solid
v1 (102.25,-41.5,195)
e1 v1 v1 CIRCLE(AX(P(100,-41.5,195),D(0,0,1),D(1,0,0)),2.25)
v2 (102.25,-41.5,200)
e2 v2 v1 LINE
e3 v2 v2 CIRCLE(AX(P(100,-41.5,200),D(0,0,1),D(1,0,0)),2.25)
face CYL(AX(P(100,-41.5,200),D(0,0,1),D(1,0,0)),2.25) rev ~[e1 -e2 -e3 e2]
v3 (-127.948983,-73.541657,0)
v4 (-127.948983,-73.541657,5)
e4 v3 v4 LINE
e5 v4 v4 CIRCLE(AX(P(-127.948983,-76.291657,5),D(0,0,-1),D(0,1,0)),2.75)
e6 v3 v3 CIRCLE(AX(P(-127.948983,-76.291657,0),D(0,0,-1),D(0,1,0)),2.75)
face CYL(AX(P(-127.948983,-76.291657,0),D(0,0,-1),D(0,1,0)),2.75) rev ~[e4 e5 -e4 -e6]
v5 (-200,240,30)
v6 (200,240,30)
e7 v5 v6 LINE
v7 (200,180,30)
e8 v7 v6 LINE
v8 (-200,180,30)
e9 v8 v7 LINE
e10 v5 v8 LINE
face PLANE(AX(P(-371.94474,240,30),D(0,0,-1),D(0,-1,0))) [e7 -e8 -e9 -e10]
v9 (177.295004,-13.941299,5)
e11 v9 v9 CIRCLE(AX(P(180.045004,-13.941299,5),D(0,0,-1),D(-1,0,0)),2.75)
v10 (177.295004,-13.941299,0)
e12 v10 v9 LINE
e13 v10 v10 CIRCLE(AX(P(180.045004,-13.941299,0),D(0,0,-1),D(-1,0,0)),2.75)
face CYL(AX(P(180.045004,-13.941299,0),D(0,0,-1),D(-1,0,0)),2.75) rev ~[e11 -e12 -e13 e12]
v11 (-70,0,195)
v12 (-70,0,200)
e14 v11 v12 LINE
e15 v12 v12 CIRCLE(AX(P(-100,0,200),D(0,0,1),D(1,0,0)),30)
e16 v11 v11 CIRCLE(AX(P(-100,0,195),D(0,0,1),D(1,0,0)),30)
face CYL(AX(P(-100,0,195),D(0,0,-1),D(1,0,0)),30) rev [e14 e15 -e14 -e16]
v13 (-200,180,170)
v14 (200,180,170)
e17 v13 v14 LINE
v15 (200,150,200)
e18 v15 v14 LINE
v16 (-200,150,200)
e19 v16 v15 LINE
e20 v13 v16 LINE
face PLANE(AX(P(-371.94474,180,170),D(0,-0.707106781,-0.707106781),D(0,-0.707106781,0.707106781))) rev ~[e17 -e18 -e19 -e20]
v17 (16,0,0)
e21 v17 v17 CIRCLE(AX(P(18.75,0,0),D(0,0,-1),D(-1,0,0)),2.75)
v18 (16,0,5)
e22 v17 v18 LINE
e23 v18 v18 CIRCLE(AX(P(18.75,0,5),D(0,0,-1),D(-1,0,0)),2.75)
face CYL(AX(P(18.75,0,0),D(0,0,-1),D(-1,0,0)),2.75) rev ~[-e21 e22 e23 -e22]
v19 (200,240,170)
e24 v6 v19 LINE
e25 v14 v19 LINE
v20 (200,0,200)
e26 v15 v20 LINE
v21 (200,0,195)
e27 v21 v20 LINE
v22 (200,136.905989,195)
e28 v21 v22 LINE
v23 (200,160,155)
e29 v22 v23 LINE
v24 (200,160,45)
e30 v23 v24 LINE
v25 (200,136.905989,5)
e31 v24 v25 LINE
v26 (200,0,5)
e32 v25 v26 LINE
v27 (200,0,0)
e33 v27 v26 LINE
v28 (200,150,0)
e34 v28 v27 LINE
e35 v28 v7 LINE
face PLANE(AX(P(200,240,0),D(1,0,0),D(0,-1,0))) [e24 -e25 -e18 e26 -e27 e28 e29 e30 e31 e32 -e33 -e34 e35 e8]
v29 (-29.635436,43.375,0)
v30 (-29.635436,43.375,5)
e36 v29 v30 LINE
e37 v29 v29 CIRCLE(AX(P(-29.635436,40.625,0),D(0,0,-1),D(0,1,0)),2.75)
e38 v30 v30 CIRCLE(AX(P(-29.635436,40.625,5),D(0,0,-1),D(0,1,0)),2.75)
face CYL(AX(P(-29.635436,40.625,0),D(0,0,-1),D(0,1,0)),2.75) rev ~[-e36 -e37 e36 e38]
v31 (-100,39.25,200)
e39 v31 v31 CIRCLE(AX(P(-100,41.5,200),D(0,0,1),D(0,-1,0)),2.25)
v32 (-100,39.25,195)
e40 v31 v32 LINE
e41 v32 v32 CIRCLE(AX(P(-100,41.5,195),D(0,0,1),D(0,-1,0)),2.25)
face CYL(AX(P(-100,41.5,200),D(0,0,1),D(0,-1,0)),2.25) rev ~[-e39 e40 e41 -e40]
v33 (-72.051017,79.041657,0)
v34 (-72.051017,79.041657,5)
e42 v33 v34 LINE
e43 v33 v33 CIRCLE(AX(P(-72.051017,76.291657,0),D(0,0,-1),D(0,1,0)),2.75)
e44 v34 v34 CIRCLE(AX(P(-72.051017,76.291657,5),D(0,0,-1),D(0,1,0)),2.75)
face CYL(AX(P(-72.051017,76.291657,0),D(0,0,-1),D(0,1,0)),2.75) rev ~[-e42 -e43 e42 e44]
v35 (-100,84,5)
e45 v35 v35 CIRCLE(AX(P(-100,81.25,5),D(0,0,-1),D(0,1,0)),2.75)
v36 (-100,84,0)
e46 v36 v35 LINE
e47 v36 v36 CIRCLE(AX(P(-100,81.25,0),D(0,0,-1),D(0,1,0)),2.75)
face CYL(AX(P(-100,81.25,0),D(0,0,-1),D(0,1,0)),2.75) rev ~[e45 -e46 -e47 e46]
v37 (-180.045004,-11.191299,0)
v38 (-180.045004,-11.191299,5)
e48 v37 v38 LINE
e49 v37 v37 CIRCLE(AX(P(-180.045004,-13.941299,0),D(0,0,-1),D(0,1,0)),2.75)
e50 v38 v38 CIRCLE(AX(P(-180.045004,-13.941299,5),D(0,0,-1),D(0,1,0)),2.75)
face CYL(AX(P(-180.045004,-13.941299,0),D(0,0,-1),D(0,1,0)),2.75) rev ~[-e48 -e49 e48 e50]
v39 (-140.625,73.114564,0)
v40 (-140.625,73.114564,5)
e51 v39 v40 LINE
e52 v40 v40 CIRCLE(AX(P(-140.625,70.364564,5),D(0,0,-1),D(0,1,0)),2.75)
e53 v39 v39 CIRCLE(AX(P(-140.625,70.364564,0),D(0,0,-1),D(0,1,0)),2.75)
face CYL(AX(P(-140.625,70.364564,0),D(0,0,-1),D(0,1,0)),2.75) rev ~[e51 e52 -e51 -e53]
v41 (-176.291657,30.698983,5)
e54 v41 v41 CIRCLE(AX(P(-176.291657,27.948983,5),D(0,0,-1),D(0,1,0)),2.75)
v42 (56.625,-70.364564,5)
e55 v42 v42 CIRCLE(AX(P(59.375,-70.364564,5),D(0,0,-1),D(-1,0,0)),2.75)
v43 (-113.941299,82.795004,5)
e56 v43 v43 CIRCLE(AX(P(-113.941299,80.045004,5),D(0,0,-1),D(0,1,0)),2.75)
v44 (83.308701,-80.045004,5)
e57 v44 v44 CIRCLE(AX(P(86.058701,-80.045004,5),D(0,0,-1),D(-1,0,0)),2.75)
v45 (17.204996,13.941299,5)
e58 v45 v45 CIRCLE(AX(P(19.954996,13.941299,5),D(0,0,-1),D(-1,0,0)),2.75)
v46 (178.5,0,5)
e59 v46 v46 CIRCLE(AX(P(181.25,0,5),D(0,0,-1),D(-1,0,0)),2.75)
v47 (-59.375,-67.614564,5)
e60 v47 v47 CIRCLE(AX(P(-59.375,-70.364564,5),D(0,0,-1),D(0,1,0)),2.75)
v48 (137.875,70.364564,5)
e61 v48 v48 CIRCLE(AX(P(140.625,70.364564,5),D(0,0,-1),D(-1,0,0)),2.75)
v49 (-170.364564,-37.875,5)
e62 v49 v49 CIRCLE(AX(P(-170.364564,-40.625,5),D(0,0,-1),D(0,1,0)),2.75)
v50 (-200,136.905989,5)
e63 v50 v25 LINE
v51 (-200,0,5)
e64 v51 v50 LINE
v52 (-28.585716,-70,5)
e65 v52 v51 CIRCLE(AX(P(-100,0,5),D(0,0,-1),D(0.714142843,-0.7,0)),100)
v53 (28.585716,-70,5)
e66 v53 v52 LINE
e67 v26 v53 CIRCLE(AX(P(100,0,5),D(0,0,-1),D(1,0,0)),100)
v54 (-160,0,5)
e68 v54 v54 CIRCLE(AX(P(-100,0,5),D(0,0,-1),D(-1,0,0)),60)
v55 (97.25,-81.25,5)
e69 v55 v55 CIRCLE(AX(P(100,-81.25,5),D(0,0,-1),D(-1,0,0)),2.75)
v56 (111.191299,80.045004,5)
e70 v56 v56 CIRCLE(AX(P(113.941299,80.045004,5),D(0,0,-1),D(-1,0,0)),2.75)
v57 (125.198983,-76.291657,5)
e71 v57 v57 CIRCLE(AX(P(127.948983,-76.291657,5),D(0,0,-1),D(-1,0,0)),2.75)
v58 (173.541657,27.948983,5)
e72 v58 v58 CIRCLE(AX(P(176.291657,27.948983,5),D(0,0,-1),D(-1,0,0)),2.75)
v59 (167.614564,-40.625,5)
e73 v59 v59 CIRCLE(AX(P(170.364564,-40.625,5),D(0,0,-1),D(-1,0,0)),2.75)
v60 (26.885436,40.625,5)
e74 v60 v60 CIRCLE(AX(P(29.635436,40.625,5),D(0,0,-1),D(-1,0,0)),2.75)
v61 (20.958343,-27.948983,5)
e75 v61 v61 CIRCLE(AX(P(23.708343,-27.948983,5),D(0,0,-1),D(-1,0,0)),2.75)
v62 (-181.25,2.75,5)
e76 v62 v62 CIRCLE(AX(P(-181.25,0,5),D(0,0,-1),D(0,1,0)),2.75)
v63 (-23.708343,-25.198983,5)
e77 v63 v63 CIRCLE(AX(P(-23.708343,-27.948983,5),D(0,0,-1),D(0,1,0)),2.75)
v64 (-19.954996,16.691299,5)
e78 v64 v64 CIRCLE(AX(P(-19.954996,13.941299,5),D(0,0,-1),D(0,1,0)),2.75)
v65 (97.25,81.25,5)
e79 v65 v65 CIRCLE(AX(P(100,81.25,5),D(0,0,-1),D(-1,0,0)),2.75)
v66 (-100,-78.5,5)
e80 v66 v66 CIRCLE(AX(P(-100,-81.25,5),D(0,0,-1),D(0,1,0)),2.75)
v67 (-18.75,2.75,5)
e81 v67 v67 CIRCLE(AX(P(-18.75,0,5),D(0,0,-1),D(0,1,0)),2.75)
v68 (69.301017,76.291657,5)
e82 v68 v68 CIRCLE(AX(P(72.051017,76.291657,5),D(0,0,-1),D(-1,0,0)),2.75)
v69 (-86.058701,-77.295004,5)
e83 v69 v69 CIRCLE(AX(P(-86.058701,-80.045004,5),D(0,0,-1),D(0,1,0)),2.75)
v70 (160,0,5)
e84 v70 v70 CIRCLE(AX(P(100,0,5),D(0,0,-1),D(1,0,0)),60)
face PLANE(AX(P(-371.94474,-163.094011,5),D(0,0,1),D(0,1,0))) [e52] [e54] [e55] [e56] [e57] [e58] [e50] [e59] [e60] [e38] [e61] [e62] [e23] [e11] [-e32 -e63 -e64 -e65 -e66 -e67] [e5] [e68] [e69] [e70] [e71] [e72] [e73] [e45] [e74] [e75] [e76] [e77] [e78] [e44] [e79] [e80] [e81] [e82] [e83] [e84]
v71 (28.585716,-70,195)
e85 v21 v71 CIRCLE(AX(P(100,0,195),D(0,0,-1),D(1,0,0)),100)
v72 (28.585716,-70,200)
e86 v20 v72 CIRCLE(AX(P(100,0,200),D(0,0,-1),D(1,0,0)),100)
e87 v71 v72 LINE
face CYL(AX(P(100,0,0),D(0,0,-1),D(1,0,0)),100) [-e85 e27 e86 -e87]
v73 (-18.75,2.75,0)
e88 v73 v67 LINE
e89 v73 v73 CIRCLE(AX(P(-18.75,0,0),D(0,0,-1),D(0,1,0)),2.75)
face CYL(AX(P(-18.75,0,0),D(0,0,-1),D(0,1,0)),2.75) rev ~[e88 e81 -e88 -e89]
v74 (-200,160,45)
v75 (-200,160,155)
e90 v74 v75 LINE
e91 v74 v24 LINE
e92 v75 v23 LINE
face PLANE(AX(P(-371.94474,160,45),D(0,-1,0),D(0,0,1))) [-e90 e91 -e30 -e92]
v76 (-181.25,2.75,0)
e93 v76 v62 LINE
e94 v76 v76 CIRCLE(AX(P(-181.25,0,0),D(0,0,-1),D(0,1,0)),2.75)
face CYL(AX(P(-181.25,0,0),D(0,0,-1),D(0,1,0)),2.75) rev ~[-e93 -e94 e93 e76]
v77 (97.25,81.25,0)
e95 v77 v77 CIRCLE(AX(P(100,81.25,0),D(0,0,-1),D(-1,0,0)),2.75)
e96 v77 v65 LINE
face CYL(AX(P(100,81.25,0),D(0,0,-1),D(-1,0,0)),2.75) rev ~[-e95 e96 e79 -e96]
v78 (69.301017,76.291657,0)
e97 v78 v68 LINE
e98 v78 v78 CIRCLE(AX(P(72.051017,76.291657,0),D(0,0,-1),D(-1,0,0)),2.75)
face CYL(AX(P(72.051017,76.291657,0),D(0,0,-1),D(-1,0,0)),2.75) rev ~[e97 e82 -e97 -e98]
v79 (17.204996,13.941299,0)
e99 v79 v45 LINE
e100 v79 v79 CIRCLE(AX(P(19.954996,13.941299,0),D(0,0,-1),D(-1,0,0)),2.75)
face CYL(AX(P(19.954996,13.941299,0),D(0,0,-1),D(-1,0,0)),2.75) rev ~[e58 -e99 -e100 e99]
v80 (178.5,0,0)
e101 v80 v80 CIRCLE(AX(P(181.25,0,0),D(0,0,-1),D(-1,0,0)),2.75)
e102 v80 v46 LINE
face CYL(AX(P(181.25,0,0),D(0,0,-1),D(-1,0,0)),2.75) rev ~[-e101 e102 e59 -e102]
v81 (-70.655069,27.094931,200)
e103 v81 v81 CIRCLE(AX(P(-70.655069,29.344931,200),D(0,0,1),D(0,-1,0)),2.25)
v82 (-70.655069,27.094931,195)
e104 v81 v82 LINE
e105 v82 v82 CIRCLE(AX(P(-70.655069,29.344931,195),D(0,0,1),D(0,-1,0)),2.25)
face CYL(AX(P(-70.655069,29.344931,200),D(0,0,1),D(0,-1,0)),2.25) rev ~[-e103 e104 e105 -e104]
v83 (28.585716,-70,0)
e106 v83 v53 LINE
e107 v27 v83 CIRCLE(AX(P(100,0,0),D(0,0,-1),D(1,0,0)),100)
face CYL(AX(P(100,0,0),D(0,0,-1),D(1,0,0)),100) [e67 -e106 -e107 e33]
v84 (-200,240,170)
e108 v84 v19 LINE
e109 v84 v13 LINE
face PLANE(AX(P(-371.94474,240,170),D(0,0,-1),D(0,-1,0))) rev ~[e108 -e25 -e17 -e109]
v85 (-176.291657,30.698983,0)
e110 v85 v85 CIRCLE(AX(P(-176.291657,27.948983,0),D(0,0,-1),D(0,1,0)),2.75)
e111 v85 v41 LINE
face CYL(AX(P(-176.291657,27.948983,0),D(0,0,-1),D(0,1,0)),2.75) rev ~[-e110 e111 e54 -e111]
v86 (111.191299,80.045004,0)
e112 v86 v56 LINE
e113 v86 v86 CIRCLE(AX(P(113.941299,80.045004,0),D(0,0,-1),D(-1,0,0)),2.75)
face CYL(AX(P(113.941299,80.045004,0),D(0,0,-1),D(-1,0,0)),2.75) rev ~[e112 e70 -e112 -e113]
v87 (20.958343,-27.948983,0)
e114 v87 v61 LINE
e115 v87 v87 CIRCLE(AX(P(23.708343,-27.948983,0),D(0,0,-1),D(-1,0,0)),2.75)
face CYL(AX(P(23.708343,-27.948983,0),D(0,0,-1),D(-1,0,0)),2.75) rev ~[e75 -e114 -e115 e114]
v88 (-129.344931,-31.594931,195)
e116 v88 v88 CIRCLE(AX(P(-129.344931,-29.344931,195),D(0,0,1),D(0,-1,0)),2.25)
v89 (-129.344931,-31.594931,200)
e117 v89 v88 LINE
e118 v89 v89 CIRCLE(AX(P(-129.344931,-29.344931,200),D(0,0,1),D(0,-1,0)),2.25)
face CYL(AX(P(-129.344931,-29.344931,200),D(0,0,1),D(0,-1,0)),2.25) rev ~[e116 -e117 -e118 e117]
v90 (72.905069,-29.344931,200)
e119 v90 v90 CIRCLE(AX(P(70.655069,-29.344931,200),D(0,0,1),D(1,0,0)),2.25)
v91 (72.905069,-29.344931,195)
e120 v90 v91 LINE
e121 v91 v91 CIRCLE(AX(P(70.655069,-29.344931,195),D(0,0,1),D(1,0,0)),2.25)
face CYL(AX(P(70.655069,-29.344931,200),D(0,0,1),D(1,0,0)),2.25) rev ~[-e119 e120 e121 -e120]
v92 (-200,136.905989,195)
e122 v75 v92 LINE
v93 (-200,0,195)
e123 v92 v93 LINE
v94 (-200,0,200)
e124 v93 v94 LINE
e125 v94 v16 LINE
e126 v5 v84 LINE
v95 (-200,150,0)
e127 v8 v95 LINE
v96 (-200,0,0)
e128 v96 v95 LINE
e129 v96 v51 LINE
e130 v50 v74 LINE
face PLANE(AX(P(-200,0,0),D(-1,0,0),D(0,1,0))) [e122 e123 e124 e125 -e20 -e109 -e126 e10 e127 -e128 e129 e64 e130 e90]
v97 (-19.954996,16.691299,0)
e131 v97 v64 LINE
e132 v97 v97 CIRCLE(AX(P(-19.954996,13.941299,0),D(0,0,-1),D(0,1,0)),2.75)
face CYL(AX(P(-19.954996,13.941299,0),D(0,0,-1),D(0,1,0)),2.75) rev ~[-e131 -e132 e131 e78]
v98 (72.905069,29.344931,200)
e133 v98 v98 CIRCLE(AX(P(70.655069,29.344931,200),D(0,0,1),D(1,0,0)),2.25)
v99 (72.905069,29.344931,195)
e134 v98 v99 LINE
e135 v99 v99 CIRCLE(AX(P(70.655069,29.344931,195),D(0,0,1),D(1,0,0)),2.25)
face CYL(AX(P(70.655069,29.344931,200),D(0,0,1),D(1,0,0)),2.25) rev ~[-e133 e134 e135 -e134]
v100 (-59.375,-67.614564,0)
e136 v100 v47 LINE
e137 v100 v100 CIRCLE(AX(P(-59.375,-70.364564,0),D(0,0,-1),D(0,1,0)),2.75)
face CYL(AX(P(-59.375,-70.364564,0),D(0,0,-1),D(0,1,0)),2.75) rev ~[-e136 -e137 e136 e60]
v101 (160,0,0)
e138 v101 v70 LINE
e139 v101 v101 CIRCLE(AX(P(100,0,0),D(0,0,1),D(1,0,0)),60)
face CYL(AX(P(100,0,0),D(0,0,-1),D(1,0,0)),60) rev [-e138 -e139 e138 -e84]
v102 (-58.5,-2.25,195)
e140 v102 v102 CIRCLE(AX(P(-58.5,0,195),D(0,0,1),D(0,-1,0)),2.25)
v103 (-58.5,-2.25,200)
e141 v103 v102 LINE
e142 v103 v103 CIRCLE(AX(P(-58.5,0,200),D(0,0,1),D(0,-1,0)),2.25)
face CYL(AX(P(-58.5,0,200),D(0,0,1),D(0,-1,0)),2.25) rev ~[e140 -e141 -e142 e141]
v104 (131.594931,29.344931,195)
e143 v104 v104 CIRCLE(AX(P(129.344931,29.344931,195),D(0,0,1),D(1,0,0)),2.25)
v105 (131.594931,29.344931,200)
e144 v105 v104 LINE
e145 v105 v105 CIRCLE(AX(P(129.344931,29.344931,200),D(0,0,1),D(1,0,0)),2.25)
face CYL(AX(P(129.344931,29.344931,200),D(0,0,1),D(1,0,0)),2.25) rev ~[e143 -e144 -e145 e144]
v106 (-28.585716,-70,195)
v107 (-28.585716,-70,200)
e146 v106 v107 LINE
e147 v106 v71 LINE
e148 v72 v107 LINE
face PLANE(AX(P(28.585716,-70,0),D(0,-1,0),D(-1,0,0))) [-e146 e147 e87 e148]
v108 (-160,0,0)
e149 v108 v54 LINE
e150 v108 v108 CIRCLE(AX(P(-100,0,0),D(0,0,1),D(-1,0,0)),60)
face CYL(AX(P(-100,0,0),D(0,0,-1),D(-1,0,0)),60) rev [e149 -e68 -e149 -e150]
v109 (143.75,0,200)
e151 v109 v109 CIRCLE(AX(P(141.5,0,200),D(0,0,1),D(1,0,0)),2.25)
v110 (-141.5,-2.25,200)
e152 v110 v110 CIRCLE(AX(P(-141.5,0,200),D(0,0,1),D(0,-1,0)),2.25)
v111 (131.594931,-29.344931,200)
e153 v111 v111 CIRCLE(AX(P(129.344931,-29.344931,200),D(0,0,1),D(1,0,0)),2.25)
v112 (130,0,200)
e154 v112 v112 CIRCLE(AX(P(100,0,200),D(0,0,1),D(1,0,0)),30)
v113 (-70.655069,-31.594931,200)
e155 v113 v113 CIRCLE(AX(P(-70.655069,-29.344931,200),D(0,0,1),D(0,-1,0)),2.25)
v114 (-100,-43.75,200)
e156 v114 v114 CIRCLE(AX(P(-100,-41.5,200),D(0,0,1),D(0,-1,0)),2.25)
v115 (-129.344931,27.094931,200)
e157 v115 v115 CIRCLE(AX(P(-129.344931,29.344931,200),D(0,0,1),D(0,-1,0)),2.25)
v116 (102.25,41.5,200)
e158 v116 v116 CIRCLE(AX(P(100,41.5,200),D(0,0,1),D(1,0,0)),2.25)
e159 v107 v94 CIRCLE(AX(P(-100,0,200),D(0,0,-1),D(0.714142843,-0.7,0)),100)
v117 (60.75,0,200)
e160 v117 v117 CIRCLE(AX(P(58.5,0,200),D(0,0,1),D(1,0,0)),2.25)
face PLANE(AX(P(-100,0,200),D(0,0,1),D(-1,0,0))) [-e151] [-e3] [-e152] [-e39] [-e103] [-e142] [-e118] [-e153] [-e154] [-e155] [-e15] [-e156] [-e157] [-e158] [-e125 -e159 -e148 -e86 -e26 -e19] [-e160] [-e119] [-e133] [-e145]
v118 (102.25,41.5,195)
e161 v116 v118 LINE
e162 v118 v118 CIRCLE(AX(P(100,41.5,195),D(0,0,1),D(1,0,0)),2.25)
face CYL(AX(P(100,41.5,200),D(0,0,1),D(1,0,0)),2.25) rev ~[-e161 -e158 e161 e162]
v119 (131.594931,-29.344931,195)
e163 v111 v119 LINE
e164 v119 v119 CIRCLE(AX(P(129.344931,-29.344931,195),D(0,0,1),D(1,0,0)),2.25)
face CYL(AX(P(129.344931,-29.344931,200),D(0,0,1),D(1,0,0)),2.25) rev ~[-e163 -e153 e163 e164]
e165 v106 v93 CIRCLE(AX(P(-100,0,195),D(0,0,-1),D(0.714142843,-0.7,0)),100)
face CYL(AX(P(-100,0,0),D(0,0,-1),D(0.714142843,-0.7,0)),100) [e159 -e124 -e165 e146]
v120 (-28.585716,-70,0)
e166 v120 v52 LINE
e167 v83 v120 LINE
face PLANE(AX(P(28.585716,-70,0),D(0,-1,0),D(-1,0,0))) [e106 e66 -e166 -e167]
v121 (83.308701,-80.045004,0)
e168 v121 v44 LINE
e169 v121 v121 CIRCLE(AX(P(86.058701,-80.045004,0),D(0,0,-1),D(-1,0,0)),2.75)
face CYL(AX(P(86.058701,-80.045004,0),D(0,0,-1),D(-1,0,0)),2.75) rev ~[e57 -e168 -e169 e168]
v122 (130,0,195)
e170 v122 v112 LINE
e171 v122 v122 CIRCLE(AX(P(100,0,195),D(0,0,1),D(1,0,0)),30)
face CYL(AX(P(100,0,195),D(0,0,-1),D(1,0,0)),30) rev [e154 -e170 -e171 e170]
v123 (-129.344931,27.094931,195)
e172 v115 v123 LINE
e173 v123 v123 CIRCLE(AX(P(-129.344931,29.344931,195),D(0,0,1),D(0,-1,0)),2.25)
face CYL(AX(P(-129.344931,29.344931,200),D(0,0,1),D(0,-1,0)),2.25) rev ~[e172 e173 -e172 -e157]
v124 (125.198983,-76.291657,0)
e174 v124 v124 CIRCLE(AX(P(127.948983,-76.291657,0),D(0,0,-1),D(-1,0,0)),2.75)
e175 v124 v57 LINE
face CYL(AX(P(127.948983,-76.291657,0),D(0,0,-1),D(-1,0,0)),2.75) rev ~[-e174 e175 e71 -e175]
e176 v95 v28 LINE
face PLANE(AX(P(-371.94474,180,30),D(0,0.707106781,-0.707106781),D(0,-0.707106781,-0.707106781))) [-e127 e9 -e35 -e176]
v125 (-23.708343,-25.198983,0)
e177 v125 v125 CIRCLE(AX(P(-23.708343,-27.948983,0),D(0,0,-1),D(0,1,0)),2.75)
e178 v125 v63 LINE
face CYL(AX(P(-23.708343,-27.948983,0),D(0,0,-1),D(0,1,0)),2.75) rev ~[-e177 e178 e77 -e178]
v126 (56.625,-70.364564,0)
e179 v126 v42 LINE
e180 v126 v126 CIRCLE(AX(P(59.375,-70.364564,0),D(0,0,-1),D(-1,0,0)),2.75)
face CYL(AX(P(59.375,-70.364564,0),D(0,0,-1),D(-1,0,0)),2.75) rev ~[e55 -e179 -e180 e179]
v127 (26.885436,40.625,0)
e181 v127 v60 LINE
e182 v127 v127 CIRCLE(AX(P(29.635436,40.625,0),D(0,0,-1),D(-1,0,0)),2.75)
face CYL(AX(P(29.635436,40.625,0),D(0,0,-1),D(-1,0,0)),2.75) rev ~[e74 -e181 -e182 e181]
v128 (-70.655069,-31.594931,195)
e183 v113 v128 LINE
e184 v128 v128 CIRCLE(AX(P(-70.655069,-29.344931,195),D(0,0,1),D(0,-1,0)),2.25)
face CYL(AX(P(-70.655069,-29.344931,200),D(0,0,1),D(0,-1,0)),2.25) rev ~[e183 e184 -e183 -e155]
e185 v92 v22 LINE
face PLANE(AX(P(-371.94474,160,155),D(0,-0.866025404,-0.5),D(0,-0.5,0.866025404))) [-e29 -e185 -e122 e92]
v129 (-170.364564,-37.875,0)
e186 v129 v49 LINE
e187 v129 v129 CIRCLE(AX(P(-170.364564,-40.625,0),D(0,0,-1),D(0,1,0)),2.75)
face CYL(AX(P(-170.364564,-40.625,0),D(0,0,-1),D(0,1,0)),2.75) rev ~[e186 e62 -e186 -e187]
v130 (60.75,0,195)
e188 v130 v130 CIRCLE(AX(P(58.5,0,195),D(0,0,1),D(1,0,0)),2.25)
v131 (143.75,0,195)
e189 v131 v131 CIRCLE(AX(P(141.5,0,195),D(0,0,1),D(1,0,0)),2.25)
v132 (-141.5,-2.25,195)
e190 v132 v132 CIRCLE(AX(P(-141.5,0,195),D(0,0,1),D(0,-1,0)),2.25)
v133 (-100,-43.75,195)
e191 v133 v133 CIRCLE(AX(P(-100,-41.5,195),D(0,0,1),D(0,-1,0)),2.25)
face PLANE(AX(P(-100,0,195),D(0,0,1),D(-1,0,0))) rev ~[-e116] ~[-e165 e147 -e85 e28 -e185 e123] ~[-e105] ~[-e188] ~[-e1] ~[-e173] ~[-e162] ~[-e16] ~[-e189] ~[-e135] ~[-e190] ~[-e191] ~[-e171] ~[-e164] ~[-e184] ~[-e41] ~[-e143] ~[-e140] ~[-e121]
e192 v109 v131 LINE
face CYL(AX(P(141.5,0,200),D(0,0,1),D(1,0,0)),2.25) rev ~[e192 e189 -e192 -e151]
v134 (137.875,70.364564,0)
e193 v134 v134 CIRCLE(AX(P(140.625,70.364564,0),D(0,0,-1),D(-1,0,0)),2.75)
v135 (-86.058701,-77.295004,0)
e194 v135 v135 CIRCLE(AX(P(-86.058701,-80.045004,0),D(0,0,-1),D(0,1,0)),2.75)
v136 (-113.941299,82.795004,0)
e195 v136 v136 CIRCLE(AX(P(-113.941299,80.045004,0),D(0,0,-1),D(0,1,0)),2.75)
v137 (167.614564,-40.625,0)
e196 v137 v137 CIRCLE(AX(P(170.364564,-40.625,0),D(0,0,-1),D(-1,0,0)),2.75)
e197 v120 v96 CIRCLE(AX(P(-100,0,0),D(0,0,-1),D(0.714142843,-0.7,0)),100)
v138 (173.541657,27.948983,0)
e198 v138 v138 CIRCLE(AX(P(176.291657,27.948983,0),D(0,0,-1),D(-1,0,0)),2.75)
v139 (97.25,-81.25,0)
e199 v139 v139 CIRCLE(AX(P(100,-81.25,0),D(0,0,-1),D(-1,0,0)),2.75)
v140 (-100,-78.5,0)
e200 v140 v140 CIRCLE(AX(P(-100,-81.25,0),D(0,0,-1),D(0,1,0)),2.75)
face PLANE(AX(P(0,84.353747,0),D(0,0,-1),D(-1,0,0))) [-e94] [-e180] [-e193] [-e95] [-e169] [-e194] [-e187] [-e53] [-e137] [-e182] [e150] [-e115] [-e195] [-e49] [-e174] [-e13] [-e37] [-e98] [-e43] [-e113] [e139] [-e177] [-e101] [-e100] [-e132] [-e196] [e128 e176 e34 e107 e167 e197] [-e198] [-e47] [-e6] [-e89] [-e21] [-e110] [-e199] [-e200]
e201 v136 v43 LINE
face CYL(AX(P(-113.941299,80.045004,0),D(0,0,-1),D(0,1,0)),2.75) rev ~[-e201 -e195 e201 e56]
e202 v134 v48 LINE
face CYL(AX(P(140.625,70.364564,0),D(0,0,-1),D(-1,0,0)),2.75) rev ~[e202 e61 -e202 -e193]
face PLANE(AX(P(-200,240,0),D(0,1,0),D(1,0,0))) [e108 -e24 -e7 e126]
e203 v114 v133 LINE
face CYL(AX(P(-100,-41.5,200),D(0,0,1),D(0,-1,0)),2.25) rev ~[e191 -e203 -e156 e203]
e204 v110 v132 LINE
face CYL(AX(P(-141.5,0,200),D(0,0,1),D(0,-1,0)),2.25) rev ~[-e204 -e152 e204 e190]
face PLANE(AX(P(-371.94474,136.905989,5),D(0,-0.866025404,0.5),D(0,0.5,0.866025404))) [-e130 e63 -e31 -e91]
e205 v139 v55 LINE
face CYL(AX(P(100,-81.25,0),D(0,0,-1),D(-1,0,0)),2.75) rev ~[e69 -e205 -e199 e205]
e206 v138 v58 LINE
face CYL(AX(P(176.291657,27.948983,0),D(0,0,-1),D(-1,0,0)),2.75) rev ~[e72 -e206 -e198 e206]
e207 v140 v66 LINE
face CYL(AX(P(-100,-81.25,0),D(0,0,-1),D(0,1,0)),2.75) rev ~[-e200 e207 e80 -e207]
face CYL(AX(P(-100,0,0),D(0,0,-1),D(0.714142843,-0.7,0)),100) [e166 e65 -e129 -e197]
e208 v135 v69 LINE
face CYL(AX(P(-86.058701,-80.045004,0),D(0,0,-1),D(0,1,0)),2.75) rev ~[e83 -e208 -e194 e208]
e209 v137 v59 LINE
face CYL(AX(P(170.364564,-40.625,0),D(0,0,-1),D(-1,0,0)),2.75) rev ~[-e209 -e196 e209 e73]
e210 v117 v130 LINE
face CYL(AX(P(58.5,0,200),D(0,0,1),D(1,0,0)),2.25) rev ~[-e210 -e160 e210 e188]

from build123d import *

# Parameters (mm, degrees)
SKETCH_1_R               = 60
EXTRUDE_1_DEPTH          = 200
CUT_EXTRUDE_1_DEPTH      = 371.94473982
CUT_EXTRUDE_1_DEPTH_BACK = 371.94473982
CUT_EXTRUDE_2_DEPTH      = 371.94473982
CUT_EXTRUDE_2_DEPTH_BACK = 371.94473982
SKETCH_4_R               = 2.75
CUT_EXTRUDE_3_DEPTH      = 32.5
EXTRUDE_START            = -5
SKETCH_5_R               = 60
SKETCH_5_R_2             = 30
EXTRUDE_2_DEPTH          = 5
SKETCH_6_R               = 2.25
CUT_EXTRUDE_4_DEPTH      = 5


with BuildPart() as part:
    # 草图1 → 凸台-拉伸1 (new body)
    with BuildSketch(Plane.XY):
        with BuildLine():
            Line((200, 180), (200, 0))
            ThreePointArc((200, 0), (137.805896177, -92.578151927), (28.585715715, -70))
            Line((28.585715715, -70), (-28.585715715, -70))
            ThreePointArc((-28.585715715, -70), (-137.805896177, -92.578151927), (-200, 0))
            Line((-200, 0), (-200, 180))
            Line((-200, 180), (-200, 240))
            Line((-200, 240), (200, 240))
            Line((200, 240), (200, 180))
        make_face()
        with Locations((100, 0)):
            Circle(SKETCH_1_R, mode=Mode.SUBTRACT)
        with Locations(Location((-100, 0, 0), (0, 0, 180))):
            Circle(SKETCH_1_R, mode=Mode.SUBTRACT)
    extrude(amount=EXTRUDE_1_DEPTH)

    # 草图2 → 切除-拉伸1 (cut, two sides: drawn at the far end of the back side and taken through both)
    with BuildSketch(Plane(origin=(0, 0, 0), x_dir=(0, 0, -1), z_dir=(1, 0, 0)).offset(-CUT_EXTRUDE_1_DEPTH_BACK)):
        Polygon((-195, 136.905989232), (-195, -163.094010768), (-5, -163.094010768), (-5, 136.905989232), (-45, 160), (-155, 160), align=None)
    extrude(amount=CUT_EXTRUDE_1_DEPTH + CUT_EXTRUDE_1_DEPTH_BACK, mode=Mode.SUBTRACT)

    # 草图3 → 切除-拉伸2 (cut, two sides: drawn at the far end of the back side and taken through both)
    with BuildSketch(Plane(origin=(0, 0, 0), x_dir=(0, 0, -1), z_dir=(1, 0, 0)).offset(-CUT_EXTRUDE_2_DEPTH_BACK)):
        Polygon((-170, 240), (-170, 180), (-200, 150), (-200, 240), align=None)
        Polygon((0, 240), (-30, 240), (-30, 180), (0, 150), align=None)
    extrude(amount=CUT_EXTRUDE_2_DEPTH + CUT_EXTRUDE_2_DEPTH_BACK, mode=Mode.SUBTRACT)

    # 草图4 → 切除-拉伸3 (cut)
    with BuildSketch(Plane(origin=(0, 0, 0), x_dir=(-1, 0, 0), z_dir=(0, 0, -1))):
        with Locations((-72.051017301, 76.291656595)):
            Circle(SKETCH_4_R)
        with Locations((-100, 81.25)):
            Circle(SKETCH_4_R)
        with Locations((-113.94129927, 80.045004058)):
            Circle(SKETCH_4_R)
        with Locations((-140.625, 70.364564057)):
            Circle(SKETCH_4_R)
        with Locations((-23.708343405, -27.948982699)):
            Circle(SKETCH_4_R)
        with Locations((-18.75, 0)):
            Circle(SKETCH_4_R)
        with Locations((-19.954995942, 13.94129927)):
            Circle(SKETCH_4_R)
        with Locations((-29.635435943, 40.625)):
            Circle(SKETCH_4_R)
        with Locations((-127.948982699, -76.291656595)):
            Circle(SKETCH_4_R)
        with Locations((-100, -81.25)):
            Circle(SKETCH_4_R)
        with Locations((-86.05870073, -80.045004058)):
            Circle(SKETCH_4_R)
        with Locations((-59.375, -70.364564057)):
            Circle(SKETCH_4_R)
        with Locations((-176.291656595, 27.948982699)):
            Circle(SKETCH_4_R)
        with Locations((-181.25, 0)):
            Circle(SKETCH_4_R)
        with Locations((-180.045004058, -13.94129927)):
            Circle(SKETCH_4_R)
        with Locations((-170.364564057, -40.625)):
            Circle(SKETCH_4_R)
        with Locations(Location((170.364564057, -40.625, 0), (0, 0, 90))):
            Circle(SKETCH_4_R)
        with Locations(Location((180.045004058, -13.94129927, 0), (0, 0, 90))):
            Circle(SKETCH_4_R)
        with Locations(Location((181.25, 0, 0), (0, 0, 90))):
            Circle(SKETCH_4_R)
        with Locations(Location((176.291656595, 27.948982699, 0), (0, 0, 90))):
            Circle(SKETCH_4_R)
        with Locations(Location((59.375, -70.364564057, 0), (0, 0, 90))):
            Circle(SKETCH_4_R)
        with Locations(Location((86.05870073, -80.045004058, 0), (0, 0, 90))):
            Circle(SKETCH_4_R)
        with Locations(Location((100, -81.25, 0), (0, 0, 90))):
            Circle(SKETCH_4_R)
        with Locations(Location((127.948982699, -76.291656595, 0), (0, 0, 90))):
            Circle(SKETCH_4_R)
        with Locations(Location((29.635435943, 40.625, 0), (0, 0, 90))):
            Circle(SKETCH_4_R)
        with Locations(Location((19.954995942, 13.94129927, 0), (0, 0, 90))):
            Circle(SKETCH_4_R)
        with Locations(Location((18.75, 0, 0), (0, 0, 90))):
            Circle(SKETCH_4_R)
        with Locations(Location((23.708343405, -27.948982699, 0), (0, 0, 90))):
            Circle(SKETCH_4_R)
        with Locations(Location((140.625, 70.364564057, 0), (0, 0, 90))):
            Circle(SKETCH_4_R)
        with Locations(Location((113.94129927, 80.045004058, 0), (0, 0, 90))):
            Circle(SKETCH_4_R)
        with Locations(Location((100, 81.25, 0), (0, 0, 90))):
            Circle(SKETCH_4_R)
        with Locations(Location((72.051017301, 76.291656595, 0), (0, 0, 90))):
            Circle(SKETCH_4_R)
    extrude(amount=-CUT_EXTRUDE_3_DEPTH, mode=Mode.SUBTRACT)

    # 草图5 → 凸台-拉伸2 (add)
    # profile 1 of 2: a face of its own
    with BuildSketch(Plane.XY.offset(200).offset(EXTRUDE_START)):
        with Locations(Location((-100, 0, 0), (0, 0, 180))):
            Circle(SKETCH_5_R)
        with Locations((-100, 0)):
            Circle(SKETCH_5_R_2, mode=Mode.SUBTRACT)
    # profile 2 of 2: a face of its own
    with BuildSketch(Plane.XY.offset(200).offset(EXTRUDE_START)):
        with Locations(Location((100, 0, 0), (0, 0, 90))):
            Circle(SKETCH_5_R)
        with Locations((100, 0)):
            Circle(SKETCH_5_R_2, mode=Mode.SUBTRACT)
    extrude(amount=EXTRUDE_2_DEPTH)

    # 草图6 → 切除-拉伸4 (cut)
    with BuildSketch(Plane.XY.offset(200)):
        with Locations((100, 41.5)):
            Circle(SKETCH_6_R)
        with Locations((129.344931419, 29.344931419)):
            Circle(SKETCH_6_R)
        with Locations((141.5, 0)):
            Circle(SKETCH_6_R)
        with Locations((129.344931419, -29.344931419)):
            Circle(SKETCH_6_R)
        with Locations((100, -41.5)):
            Circle(SKETCH_6_R)
        with Locations((70.655068581, -29.344931419)):
            Circle(SKETCH_6_R)
        with Locations((58.5, 0)):
            Circle(SKETCH_6_R)
        with Locations((70.655068581, 29.344931419)):
            Circle(SKETCH_6_R)
        with Locations(Location((-70.655068581, 29.344931419, 0), (0, 0, 270))):
            Circle(SKETCH_6_R)
        with Locations(Location((-58.5, 0, 0), (0, 0, 270))):
            Circle(SKETCH_6_R)
        with Locations(Location((-70.655068581, -29.344931419, 0), (0, 0, 270))):
            Circle(SKETCH_6_R)
        with Locations(Location((-100, -41.5, 0), (0, 0, 270))):
            Circle(SKETCH_6_R)
        with Locations(Location((-129.344931419, -29.344931419, 0), (0, 0, 270))):
            Circle(SKETCH_6_R)
        with Locations(Location((-141.5, 0, 0), (0, 0, 270))):
            Circle(SKETCH_6_R)
        with Locations(Location((-129.344931419, 29.344931419, 0), (0, 0, 270))):
            Circle(SKETCH_6_R)
        with Locations(Location((-100, 41.5, 0), (0, 0, 270))):
            Circle(SKETCH_6_R)
    extrude(amount=-CUT_EXTRUDE_4_DEPTH, mode=Mode.SUBTRACT)


solid = part.part
